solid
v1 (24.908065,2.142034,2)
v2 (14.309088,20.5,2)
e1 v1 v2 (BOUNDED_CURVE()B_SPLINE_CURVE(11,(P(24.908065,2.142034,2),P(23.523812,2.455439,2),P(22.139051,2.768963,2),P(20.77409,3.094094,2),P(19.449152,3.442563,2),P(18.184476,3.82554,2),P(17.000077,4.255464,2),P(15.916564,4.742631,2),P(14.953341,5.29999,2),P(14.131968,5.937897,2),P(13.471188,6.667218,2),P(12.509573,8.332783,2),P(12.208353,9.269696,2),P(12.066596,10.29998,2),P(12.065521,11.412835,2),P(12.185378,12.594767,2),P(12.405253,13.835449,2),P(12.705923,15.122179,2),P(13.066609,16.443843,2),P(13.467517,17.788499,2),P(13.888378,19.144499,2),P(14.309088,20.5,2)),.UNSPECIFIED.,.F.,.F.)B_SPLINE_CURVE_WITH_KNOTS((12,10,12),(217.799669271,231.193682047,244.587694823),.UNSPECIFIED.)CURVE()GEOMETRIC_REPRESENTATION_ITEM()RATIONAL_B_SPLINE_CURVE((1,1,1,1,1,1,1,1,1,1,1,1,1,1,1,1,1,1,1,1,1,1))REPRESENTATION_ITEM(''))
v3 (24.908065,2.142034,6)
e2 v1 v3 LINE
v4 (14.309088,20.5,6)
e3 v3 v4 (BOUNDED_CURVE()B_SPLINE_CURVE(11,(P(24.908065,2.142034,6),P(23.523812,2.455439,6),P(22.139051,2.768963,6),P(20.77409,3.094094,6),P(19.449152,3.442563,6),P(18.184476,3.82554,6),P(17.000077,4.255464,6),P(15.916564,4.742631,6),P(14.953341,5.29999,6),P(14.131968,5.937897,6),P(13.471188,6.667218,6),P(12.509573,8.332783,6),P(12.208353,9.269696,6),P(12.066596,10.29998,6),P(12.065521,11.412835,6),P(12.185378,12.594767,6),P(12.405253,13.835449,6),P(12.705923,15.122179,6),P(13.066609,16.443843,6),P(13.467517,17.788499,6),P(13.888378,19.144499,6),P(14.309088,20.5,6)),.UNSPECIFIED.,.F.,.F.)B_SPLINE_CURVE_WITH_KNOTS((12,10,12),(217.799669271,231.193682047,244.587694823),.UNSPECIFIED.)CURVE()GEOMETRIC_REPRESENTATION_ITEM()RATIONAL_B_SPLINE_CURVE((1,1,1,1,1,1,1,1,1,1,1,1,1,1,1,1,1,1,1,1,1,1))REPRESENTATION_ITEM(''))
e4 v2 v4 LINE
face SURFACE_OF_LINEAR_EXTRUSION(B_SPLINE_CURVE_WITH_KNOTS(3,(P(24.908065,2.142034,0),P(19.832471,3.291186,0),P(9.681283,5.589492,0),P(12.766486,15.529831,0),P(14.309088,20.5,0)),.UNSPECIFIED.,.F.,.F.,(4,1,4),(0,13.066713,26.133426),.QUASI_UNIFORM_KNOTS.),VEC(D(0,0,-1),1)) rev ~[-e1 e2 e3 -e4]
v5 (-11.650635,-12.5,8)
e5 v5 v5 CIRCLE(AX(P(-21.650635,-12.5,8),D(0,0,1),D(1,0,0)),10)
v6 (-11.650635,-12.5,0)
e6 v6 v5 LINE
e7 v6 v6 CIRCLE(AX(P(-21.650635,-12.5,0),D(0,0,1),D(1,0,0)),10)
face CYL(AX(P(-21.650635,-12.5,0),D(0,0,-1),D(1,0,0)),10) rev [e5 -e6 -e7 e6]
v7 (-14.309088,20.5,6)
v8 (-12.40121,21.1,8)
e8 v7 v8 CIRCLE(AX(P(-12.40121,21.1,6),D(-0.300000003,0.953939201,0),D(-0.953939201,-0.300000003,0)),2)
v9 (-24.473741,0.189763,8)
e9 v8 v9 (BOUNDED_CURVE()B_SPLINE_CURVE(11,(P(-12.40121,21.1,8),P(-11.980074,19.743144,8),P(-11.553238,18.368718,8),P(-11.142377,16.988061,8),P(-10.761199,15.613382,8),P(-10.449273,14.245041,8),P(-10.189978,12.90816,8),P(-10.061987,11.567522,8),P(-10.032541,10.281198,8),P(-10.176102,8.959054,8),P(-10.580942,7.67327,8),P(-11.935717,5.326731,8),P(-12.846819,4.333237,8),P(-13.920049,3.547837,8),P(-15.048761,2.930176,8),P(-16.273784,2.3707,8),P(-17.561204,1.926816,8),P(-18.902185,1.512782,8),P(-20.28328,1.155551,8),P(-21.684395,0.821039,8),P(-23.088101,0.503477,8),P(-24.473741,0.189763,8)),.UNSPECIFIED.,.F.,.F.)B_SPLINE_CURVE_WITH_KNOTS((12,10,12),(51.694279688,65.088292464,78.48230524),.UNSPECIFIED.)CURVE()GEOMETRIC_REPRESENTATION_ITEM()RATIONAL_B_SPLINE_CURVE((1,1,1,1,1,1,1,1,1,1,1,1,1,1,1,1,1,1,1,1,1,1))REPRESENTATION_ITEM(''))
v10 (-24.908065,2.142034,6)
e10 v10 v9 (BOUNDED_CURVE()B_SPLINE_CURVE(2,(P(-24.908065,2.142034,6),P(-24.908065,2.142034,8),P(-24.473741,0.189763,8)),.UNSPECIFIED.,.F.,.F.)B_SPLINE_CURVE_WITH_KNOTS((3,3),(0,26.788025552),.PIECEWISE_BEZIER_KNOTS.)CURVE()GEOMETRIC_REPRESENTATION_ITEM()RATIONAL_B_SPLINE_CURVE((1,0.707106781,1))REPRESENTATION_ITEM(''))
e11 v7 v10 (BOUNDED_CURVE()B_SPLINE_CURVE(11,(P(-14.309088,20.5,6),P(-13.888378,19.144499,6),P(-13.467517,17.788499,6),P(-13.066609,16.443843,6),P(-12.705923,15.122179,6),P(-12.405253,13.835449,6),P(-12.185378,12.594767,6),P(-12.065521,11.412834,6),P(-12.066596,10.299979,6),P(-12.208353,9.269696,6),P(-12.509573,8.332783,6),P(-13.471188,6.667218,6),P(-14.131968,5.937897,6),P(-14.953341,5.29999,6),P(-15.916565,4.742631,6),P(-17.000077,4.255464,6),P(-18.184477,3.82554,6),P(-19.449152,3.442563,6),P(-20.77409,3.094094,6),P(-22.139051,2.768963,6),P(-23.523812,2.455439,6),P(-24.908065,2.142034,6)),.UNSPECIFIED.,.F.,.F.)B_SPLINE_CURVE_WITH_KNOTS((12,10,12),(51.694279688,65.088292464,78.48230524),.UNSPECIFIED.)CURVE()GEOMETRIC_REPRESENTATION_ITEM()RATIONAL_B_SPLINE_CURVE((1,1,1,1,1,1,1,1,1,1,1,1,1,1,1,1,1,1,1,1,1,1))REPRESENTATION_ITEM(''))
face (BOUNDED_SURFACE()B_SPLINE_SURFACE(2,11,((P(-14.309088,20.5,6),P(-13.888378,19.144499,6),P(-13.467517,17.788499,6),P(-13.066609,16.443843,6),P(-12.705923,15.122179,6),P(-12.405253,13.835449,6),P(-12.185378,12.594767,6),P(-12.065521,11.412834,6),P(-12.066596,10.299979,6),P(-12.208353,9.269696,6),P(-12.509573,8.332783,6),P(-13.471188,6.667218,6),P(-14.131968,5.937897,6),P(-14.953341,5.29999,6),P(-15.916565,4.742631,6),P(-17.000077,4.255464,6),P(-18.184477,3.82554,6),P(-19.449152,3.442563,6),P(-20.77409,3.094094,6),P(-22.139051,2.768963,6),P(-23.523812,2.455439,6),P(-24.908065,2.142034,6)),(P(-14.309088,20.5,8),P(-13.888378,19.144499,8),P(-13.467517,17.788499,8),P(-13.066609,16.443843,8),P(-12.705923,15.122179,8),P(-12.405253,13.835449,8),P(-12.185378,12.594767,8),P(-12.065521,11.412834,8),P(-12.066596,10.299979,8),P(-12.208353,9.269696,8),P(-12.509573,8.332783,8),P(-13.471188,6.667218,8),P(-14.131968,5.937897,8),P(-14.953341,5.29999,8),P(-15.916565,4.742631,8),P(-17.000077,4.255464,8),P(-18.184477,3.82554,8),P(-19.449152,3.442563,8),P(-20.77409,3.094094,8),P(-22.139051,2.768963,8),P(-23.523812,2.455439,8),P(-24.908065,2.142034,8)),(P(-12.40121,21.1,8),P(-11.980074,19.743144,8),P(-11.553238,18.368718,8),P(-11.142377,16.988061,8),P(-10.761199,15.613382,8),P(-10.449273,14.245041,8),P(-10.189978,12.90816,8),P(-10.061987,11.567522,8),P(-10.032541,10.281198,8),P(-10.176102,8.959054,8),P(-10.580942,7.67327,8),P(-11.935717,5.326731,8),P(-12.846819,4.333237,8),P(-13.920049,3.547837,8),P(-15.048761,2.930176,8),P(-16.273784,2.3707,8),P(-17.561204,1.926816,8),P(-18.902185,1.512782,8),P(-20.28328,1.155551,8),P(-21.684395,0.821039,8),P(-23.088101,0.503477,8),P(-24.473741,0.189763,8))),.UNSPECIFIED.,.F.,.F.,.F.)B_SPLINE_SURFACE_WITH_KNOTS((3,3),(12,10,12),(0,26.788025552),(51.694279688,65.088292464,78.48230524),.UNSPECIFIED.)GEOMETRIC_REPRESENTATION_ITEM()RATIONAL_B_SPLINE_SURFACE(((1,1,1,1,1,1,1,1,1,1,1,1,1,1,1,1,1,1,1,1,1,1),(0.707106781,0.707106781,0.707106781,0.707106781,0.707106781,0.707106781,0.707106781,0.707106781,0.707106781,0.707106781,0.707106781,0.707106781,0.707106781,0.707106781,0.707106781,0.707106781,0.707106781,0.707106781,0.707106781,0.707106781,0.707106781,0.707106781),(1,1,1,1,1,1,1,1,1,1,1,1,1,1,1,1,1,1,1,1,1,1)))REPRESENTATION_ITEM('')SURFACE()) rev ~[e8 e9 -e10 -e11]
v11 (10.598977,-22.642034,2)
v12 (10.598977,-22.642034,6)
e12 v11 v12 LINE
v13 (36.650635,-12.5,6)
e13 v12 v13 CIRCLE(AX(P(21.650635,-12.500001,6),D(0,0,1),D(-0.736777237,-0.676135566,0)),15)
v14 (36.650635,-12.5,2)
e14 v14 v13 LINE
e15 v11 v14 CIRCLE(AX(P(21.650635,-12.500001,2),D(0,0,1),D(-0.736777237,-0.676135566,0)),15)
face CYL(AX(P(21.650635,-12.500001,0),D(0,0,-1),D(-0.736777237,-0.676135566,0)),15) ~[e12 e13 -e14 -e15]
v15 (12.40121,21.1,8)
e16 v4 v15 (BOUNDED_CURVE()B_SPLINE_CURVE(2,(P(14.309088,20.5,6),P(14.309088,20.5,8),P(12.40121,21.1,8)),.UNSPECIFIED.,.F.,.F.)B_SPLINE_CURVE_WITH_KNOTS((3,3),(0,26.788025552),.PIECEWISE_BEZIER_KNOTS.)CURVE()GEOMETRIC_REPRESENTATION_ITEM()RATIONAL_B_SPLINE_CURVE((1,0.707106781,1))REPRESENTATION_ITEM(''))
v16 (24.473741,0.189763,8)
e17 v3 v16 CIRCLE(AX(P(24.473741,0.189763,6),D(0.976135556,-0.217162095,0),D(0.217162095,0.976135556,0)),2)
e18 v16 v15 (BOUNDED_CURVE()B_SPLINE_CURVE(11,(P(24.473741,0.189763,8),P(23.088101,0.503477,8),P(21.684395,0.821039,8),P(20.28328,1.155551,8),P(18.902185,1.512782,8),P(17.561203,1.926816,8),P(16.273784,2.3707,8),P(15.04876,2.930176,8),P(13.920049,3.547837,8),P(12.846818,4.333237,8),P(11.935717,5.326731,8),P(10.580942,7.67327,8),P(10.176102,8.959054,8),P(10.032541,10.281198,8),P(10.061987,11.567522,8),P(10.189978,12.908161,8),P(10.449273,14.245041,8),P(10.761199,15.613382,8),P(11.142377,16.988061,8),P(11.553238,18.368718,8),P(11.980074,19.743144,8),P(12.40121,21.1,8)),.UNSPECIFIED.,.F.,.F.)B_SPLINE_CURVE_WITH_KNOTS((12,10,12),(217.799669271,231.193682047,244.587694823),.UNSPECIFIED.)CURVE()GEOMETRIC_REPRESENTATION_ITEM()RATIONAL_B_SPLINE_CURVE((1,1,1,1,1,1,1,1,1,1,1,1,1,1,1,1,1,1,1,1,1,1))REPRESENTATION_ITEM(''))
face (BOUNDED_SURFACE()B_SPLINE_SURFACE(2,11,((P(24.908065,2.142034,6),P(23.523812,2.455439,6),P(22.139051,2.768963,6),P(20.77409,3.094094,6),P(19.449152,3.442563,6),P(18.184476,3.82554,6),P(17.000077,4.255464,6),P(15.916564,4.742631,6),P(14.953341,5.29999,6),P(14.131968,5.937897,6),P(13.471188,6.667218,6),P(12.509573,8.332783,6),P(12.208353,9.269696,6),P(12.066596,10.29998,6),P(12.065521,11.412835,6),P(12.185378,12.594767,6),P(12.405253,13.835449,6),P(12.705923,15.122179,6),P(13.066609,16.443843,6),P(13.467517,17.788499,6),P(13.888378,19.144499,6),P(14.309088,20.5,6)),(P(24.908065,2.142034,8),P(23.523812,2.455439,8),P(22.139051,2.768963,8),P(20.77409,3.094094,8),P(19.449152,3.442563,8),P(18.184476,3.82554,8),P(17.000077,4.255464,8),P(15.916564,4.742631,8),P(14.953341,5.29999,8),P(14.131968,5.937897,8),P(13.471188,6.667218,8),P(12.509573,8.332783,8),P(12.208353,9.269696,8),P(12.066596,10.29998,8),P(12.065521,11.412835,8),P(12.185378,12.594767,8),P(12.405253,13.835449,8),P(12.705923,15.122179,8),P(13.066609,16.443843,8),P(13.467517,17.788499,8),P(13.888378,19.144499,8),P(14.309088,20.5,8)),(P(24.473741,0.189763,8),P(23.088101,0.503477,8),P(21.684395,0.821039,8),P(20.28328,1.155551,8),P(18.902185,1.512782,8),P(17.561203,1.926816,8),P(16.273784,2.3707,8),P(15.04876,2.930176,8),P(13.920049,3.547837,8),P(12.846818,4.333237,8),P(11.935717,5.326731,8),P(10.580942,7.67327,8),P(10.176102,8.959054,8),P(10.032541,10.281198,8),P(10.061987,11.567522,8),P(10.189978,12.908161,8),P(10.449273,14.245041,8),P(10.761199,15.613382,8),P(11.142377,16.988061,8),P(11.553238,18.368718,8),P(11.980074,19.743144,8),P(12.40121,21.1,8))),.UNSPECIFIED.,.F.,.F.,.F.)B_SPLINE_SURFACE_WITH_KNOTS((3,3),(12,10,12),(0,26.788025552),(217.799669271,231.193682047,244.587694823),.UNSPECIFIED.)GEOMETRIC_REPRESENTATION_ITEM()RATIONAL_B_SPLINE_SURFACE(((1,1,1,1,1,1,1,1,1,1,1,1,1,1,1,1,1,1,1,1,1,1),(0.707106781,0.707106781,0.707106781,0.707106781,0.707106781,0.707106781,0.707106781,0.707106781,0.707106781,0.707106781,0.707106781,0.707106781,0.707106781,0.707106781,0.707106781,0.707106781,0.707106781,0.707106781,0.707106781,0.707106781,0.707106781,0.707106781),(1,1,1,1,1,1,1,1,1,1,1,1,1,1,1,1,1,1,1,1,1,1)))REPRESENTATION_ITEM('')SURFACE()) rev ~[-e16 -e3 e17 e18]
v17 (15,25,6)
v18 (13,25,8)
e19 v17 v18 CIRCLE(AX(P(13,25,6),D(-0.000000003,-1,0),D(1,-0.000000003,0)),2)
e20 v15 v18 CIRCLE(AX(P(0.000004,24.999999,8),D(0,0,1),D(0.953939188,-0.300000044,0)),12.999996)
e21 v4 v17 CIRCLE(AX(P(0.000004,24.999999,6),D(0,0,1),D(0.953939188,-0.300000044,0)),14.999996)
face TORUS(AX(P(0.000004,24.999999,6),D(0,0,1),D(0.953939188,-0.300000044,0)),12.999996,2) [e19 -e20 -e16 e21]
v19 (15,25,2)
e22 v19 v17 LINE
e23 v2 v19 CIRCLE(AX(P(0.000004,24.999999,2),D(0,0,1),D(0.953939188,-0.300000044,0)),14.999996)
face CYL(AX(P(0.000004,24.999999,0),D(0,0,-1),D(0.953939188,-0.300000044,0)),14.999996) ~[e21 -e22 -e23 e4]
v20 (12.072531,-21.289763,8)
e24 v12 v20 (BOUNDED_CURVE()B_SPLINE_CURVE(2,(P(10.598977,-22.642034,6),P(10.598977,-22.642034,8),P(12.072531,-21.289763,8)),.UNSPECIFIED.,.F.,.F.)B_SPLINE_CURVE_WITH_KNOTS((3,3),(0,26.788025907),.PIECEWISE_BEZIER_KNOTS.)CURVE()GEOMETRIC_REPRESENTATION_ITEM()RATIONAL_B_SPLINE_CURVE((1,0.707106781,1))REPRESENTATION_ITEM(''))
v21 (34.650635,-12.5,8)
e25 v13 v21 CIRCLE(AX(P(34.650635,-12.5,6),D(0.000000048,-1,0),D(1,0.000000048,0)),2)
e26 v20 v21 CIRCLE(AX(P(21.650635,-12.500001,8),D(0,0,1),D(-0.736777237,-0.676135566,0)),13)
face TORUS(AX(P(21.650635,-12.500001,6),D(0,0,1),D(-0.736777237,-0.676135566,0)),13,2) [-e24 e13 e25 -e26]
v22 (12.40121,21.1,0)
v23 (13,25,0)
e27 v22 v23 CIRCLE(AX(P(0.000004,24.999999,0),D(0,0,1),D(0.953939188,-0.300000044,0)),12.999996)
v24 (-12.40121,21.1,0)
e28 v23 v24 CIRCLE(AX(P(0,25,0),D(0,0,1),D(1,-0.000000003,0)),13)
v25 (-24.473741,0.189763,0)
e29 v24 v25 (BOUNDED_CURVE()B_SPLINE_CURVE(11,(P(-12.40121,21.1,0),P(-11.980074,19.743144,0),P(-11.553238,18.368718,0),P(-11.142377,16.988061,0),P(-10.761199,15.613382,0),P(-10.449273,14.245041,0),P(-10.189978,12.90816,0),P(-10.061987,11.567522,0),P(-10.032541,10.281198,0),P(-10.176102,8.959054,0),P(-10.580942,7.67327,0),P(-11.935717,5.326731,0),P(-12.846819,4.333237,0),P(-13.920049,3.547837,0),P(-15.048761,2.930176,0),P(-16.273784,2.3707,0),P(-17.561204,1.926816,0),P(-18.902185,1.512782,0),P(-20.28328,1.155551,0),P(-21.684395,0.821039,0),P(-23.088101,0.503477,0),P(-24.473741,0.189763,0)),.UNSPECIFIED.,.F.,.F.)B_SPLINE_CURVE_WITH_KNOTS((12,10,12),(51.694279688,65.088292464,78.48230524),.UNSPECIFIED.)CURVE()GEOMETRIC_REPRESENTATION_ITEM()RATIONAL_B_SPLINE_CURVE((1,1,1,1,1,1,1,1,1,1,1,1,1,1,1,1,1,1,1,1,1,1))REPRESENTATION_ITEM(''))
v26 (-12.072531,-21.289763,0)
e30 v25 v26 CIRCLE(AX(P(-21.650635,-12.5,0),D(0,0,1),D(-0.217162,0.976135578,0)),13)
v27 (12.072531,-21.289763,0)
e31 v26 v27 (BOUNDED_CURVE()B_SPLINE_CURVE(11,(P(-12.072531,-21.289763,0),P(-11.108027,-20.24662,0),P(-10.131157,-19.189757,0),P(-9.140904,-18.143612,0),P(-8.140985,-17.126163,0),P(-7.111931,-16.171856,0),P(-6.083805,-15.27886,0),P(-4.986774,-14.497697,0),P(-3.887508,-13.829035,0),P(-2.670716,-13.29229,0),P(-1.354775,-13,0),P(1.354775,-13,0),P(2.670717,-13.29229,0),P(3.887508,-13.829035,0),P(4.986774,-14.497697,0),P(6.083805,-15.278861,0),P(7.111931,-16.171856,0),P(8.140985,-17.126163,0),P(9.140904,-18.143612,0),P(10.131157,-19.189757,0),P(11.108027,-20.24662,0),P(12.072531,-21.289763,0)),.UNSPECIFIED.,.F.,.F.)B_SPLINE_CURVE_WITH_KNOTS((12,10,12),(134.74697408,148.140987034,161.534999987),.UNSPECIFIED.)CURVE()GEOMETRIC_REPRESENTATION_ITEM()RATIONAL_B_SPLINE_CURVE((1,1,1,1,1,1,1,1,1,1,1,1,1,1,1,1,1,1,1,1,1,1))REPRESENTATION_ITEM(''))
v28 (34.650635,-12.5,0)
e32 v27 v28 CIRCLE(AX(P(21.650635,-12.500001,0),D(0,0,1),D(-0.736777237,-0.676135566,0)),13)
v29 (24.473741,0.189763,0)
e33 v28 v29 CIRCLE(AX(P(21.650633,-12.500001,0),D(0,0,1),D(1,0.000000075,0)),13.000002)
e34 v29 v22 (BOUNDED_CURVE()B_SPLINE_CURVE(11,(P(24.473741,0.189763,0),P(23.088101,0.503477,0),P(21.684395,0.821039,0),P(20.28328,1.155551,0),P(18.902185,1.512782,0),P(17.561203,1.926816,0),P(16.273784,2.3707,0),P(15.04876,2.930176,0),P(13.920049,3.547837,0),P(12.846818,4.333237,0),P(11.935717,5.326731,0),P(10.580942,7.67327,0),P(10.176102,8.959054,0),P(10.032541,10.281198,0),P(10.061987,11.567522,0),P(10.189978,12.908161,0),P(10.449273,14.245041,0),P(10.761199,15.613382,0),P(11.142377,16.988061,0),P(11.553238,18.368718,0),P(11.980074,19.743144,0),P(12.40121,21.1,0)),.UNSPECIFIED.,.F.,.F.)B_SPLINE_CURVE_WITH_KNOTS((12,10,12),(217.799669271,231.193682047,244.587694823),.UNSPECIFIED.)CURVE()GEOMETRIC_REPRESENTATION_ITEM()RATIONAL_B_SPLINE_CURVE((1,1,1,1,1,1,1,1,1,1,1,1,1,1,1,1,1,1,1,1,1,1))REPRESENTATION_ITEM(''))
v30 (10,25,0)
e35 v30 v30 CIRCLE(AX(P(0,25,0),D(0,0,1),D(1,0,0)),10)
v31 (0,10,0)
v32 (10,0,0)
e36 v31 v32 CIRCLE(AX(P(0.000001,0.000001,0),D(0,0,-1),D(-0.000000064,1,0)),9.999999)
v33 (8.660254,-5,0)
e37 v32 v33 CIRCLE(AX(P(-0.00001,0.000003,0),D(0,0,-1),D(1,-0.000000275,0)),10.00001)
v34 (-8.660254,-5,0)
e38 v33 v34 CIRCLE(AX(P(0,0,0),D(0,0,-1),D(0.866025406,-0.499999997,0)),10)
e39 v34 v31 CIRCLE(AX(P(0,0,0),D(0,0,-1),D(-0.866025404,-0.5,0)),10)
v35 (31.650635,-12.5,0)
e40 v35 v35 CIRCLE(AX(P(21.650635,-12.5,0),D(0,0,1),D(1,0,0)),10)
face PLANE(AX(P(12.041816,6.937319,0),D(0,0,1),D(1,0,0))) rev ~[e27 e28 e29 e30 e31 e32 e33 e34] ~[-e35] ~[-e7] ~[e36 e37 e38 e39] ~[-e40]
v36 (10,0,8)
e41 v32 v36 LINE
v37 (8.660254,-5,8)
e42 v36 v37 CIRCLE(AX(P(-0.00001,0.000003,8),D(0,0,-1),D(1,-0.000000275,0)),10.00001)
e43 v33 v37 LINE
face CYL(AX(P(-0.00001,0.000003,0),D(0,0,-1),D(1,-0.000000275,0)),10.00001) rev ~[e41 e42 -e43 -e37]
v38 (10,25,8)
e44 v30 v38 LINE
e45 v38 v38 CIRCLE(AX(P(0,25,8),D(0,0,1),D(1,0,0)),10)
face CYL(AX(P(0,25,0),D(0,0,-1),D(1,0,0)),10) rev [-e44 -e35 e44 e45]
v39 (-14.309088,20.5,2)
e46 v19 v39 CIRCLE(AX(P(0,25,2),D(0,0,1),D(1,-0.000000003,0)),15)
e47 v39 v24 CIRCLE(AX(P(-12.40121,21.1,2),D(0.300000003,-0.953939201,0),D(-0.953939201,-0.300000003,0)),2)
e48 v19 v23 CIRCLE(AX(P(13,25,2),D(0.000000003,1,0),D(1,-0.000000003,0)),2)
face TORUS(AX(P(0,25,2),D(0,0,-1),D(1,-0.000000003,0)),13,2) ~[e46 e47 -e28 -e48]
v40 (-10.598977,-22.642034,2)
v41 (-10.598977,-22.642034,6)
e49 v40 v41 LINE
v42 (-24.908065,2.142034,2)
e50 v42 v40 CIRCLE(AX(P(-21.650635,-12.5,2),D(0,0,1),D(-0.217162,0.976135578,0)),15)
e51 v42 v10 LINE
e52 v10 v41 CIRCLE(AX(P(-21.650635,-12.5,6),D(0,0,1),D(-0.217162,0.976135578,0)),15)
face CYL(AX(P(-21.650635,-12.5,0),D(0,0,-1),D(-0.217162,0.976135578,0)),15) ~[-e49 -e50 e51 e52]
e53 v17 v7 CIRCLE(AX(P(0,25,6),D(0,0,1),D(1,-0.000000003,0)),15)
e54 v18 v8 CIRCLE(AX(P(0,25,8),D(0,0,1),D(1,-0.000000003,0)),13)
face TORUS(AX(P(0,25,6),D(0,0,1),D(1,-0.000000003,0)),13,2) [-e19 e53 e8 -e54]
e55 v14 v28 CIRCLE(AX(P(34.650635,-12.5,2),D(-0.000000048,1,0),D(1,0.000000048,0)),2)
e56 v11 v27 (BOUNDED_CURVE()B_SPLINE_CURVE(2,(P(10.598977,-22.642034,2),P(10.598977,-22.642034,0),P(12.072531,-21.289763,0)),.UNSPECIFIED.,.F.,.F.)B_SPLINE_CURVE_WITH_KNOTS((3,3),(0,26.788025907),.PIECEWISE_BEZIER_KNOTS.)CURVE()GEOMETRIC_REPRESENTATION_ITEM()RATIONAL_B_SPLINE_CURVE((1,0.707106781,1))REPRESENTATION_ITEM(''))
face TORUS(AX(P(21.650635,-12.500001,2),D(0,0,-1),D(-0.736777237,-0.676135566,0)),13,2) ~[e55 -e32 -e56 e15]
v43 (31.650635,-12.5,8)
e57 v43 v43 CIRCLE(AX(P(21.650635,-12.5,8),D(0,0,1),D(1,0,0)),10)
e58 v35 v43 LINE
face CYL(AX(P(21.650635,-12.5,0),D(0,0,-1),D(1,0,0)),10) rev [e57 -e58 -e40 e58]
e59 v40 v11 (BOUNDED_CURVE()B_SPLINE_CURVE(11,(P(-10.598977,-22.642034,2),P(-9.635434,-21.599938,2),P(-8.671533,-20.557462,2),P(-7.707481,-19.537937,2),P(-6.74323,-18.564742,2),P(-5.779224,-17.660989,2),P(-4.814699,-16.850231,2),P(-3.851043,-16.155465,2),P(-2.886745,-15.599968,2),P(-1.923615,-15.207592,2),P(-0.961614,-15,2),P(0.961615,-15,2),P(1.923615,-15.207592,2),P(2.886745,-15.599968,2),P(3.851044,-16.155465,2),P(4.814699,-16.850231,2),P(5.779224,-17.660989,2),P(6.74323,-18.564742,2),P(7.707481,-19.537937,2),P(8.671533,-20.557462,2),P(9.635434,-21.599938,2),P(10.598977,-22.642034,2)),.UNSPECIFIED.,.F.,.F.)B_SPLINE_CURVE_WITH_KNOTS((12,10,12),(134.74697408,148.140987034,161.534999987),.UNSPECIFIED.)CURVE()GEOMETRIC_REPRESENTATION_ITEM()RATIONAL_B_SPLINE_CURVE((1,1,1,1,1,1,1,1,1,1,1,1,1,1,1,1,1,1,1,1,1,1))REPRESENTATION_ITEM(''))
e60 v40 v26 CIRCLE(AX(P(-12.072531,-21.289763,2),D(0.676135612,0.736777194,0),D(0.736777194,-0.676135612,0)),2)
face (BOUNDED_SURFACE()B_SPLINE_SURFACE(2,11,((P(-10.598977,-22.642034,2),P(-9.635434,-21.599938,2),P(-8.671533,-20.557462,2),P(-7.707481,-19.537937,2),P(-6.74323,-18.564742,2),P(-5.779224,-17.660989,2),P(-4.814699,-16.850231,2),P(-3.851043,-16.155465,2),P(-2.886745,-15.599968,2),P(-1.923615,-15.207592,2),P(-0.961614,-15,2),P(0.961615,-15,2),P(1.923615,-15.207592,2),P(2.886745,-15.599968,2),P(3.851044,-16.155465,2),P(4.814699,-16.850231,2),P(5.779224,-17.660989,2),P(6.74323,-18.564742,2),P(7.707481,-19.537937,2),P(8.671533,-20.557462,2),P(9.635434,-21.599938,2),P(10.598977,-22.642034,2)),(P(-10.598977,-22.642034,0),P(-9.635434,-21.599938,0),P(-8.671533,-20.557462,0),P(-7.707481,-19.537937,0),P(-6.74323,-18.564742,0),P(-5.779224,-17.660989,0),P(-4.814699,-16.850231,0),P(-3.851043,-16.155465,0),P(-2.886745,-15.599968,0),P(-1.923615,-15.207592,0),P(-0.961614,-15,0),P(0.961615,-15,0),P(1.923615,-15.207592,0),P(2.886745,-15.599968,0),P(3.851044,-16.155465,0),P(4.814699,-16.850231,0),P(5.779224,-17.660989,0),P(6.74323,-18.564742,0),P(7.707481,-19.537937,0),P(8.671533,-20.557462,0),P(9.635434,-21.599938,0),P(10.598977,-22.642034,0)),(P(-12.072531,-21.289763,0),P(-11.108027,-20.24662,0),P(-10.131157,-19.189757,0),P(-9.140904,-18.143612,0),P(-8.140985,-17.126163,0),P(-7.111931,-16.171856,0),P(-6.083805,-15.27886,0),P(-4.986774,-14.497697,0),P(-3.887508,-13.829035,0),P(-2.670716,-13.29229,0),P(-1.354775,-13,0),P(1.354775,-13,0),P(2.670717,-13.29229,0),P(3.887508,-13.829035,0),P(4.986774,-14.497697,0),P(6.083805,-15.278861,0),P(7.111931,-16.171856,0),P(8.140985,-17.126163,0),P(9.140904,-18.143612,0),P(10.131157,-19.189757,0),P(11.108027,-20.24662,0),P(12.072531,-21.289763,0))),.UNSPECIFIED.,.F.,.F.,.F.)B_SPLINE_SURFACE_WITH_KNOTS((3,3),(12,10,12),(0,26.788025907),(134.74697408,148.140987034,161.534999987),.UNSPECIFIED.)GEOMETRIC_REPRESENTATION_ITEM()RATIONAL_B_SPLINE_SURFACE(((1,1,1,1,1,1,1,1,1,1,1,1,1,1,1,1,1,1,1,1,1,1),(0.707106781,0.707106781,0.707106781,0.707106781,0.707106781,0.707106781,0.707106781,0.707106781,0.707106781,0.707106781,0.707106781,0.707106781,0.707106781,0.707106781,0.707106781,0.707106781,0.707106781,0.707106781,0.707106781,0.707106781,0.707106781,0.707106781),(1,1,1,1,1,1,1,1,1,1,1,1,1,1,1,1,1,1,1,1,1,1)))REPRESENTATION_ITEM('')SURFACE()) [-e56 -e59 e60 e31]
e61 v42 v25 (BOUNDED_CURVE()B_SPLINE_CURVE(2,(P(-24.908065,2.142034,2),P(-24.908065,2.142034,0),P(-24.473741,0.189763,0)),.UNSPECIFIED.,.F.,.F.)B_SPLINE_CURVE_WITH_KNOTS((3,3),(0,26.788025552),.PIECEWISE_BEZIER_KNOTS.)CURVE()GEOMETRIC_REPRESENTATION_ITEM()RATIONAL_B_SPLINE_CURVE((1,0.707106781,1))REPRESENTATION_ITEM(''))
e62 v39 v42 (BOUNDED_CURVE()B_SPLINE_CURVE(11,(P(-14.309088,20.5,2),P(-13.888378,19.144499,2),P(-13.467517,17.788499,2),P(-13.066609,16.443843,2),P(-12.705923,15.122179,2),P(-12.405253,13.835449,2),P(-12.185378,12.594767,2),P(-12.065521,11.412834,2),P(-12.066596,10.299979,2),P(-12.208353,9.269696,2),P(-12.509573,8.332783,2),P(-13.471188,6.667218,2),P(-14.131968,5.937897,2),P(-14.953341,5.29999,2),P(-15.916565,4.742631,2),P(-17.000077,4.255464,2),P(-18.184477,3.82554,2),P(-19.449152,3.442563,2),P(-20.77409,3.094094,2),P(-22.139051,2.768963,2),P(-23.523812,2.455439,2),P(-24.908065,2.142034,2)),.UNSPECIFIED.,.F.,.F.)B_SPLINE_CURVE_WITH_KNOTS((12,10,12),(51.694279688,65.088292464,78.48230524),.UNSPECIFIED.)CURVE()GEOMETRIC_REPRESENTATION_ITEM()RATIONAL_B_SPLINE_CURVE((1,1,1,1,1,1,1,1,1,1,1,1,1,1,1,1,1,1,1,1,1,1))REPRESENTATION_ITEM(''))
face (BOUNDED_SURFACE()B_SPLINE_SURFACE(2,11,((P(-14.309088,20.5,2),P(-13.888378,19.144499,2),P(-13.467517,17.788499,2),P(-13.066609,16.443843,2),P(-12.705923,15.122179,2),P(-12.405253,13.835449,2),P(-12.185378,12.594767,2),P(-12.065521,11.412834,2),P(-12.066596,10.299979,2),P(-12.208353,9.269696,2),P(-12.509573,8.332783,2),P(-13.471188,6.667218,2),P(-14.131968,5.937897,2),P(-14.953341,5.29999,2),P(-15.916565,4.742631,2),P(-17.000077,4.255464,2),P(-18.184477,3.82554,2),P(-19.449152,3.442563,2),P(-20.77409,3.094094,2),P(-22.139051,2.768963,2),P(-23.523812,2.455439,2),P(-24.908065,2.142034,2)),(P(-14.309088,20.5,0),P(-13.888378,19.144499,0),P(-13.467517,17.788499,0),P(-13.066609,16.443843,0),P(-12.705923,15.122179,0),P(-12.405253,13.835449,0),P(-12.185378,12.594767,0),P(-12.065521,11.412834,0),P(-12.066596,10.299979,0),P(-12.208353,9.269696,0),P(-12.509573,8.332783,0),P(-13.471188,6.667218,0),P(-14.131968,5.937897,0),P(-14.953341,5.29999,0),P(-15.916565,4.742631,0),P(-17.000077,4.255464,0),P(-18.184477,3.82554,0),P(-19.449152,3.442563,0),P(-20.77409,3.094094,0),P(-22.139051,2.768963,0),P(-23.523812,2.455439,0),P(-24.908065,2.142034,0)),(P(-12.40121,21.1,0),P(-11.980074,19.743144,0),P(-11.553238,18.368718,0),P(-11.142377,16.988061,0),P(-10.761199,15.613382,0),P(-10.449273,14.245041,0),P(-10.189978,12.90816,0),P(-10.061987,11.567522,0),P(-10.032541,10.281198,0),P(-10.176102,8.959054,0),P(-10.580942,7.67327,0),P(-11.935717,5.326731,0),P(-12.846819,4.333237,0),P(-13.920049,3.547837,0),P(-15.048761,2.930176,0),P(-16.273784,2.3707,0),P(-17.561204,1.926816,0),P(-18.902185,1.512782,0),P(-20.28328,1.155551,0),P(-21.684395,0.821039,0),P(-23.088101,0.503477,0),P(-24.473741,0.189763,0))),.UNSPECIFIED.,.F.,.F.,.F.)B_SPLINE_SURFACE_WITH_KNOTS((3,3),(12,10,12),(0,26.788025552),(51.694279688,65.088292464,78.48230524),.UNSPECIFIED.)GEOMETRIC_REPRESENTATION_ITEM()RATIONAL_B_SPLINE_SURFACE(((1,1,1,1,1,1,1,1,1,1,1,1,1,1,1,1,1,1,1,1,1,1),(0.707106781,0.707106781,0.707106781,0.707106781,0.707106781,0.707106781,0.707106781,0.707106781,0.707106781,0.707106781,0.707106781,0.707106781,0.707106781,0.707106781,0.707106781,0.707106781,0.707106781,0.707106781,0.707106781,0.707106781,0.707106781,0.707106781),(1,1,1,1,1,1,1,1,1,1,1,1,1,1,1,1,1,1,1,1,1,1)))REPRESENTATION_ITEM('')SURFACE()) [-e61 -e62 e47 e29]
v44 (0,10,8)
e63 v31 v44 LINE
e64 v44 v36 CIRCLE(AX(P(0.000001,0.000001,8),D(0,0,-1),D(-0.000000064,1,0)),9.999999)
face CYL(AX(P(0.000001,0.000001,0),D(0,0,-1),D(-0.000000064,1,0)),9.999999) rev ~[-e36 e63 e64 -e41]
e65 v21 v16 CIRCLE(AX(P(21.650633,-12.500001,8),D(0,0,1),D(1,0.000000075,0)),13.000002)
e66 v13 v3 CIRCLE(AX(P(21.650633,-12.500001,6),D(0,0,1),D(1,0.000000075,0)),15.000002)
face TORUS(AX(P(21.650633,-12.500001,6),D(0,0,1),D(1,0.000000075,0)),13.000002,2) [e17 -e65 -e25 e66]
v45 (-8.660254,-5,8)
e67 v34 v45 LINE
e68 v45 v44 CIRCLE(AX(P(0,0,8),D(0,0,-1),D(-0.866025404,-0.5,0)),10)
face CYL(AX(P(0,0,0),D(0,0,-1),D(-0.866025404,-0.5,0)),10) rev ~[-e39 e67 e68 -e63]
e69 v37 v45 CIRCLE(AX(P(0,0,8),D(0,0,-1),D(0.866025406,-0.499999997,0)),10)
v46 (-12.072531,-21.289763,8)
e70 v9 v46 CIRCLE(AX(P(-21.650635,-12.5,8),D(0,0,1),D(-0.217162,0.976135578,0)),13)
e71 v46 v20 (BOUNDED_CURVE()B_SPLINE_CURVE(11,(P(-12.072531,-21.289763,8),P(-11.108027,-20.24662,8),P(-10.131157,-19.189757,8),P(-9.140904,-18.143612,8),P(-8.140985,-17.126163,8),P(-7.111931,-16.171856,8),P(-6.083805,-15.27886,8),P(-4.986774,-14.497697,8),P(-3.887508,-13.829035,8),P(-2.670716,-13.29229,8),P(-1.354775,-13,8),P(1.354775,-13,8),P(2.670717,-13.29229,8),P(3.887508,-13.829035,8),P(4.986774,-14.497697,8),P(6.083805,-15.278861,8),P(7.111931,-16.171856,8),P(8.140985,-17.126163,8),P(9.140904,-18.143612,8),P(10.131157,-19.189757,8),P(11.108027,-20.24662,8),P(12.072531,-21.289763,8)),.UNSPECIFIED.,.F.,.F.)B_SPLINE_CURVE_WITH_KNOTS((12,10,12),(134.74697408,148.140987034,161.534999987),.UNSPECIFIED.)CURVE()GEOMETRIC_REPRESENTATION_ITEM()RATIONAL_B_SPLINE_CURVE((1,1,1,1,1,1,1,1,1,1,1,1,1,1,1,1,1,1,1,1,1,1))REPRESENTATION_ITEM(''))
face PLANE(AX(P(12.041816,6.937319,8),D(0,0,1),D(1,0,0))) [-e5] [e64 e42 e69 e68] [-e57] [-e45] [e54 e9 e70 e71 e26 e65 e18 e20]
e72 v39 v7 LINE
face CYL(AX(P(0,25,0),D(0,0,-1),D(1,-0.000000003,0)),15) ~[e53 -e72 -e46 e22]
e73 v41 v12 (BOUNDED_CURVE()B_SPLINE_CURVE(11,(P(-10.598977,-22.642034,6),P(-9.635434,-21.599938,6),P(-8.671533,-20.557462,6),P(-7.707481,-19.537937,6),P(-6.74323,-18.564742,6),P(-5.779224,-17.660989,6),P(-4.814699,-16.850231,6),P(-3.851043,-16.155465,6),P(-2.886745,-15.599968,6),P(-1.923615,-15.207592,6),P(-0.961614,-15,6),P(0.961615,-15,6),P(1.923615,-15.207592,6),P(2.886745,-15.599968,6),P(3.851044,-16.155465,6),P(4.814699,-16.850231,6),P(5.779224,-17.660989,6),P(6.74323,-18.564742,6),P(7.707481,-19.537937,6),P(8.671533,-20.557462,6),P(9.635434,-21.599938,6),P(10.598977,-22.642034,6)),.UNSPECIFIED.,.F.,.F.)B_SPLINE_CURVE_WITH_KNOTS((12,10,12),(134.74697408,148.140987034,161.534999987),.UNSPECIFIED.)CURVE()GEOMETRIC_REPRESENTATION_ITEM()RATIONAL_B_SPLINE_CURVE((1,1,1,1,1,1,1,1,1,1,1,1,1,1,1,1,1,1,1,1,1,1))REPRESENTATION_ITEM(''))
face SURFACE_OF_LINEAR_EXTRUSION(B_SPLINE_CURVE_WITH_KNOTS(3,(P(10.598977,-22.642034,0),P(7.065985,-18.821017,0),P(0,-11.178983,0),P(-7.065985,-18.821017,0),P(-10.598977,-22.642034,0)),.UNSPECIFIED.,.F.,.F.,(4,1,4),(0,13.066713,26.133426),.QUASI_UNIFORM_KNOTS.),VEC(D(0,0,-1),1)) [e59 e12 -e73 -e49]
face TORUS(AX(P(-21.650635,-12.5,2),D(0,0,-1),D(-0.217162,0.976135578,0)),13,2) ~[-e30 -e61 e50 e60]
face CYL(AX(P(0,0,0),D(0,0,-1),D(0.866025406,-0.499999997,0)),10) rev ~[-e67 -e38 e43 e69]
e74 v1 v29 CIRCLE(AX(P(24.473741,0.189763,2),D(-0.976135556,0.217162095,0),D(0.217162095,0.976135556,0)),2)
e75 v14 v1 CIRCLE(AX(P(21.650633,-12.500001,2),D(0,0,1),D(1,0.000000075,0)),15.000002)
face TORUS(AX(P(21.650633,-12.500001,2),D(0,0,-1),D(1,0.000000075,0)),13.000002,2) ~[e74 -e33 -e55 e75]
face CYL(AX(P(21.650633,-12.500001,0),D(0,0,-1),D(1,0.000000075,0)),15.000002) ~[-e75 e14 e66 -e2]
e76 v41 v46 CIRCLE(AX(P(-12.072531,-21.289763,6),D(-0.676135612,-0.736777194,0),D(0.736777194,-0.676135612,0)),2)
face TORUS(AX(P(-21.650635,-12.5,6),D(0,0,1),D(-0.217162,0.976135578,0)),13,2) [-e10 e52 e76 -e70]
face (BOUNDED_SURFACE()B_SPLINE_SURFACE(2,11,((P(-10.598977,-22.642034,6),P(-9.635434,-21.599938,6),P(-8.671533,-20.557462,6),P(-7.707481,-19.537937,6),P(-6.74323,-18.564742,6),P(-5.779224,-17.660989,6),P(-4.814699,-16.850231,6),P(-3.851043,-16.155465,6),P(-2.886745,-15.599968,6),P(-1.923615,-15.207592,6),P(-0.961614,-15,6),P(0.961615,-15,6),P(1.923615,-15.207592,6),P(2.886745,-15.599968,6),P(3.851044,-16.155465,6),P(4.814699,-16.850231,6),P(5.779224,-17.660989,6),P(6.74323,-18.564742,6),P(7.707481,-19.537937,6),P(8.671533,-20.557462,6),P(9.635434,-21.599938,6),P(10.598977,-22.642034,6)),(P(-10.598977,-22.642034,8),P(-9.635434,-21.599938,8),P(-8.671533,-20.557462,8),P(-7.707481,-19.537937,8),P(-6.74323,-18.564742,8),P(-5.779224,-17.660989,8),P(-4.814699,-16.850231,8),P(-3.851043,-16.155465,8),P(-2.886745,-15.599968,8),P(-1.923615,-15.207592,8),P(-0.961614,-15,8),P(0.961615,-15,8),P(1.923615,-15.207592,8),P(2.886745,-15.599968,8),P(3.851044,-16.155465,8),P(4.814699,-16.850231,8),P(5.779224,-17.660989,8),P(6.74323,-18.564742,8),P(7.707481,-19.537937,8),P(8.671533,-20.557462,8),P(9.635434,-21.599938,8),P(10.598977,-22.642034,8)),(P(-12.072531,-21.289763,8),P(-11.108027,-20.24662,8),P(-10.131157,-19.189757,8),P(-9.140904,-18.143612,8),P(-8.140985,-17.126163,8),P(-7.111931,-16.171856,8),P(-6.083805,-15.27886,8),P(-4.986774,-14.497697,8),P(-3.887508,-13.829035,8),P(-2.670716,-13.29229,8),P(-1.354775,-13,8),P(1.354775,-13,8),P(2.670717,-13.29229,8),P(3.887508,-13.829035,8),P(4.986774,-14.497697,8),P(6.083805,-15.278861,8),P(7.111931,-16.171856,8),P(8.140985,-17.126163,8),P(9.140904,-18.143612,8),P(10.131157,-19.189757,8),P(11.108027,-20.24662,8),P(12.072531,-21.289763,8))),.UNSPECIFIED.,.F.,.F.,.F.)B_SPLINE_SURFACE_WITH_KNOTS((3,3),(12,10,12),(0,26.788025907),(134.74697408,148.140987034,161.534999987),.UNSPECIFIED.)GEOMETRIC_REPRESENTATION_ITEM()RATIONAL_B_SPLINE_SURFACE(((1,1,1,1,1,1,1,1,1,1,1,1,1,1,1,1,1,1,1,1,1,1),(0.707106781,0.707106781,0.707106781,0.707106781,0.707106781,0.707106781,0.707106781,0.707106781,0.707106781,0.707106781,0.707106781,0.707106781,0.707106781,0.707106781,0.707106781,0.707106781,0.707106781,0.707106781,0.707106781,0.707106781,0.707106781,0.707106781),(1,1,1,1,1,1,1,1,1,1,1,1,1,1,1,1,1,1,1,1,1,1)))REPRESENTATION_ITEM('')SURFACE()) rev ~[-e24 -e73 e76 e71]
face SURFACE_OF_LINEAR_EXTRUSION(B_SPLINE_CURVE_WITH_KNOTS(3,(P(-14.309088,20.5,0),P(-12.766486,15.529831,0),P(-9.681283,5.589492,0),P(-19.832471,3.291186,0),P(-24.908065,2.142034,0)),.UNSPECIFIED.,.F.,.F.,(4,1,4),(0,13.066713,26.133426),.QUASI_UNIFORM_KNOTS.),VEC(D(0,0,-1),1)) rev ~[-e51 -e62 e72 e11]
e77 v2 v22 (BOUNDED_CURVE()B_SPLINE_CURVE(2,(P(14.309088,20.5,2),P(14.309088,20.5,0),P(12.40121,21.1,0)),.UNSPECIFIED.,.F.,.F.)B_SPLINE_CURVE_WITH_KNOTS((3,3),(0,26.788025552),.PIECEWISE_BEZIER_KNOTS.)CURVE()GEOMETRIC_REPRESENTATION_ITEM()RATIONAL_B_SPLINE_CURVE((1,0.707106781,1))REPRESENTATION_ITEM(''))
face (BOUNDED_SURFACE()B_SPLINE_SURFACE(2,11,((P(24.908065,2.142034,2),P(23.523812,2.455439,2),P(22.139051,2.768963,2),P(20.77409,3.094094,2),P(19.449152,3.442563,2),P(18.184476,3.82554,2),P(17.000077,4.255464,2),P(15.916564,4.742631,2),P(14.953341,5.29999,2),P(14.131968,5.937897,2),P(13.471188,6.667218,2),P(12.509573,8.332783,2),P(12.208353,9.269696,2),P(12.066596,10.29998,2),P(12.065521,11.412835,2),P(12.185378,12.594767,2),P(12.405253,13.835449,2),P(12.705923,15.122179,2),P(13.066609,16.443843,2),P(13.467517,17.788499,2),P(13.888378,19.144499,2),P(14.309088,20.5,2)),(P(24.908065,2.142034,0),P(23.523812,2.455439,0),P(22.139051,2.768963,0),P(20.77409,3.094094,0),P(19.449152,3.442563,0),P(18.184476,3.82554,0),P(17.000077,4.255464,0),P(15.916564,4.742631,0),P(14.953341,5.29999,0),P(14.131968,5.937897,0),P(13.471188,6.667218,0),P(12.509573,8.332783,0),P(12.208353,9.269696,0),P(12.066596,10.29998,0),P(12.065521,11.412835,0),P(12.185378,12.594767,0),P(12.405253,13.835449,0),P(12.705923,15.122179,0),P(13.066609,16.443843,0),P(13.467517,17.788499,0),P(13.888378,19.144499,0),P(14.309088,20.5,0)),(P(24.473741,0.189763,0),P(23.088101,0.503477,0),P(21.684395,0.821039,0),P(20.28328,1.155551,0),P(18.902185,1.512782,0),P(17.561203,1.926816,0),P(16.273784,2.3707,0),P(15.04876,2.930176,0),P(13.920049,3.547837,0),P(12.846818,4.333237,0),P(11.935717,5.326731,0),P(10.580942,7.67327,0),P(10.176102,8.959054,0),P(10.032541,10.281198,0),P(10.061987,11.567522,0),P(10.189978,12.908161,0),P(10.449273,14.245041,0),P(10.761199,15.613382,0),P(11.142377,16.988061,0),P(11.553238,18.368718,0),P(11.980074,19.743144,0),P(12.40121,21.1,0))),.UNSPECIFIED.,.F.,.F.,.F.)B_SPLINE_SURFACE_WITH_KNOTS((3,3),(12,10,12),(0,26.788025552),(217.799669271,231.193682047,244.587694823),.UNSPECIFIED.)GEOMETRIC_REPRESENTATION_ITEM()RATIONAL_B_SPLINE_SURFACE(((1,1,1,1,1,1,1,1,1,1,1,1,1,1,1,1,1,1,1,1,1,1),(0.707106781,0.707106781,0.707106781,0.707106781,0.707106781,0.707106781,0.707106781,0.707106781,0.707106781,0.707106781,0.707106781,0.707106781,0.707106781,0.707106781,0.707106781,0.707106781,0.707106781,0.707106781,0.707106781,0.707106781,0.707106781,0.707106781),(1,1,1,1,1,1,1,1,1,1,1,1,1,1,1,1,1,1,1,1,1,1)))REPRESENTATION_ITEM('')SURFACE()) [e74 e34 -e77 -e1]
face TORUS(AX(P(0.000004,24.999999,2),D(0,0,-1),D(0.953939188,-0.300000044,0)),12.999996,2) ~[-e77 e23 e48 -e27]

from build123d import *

# Parameters (mm, degrees)
F0_R     = 10
F1_DEPTH = 8
F2_R     = 2
F3_R     = 2


with BuildPart() as f1:
    # F0 (on Top) → F1 (new body)
    with BuildSketch(Plane.XY):
        with BuildLine():
            ThreePointArc((0, 10), (7.071068, 7.071068), (10, 0))
            ThreePointArc((10, 0), (9.659258, -2.58819), (8.660254, -5))
            ThreePointArc((8.660254, -5), (15.614515, 1.231906), (24.908065, 2.142034))
            add(Edge.make_bspline(
                [(24.908065, 2.142034), (19.832471, 3.291186), (9.681283, 5.589492), (12.766486, 15.529831), (14.309088, 20.5)],
                knots=[0, 0, 0, 0, 13.066713, 26.133426, 26.133426, 26.133426, 26.133426], degree=3))
            ThreePointArc((14.309088, 20.5), (8.87412, 12.906613), (0, 10))
        make_face()
        with BuildLine():
            ThreePointArc((-8.660254, -5), (-8.660254, 5), (0, 10))
            ThreePointArc((0, 10), (-8.87412, 12.906613), (-14.309088, 20.5))
            add(Edge.make_bspline(
                [(-14.309088, 20.5), (-12.766486, 15.529831), (-9.681283, 5.589492), (-19.832471, 3.291186), (-24.908065, 2.142034)],
                knots=[0, 0, 0, 0, 13.066713, 26.133426, 26.133426, 26.133426, 26.133426], degree=3))
            ThreePointArc((-24.908065, 2.142034), (-15.614515, 1.231906), (-8.660254, -5))
        make_face()
        with BuildLine():
            ThreePointArc((-14.309088, 20.5), (-8.87412, 12.906613), (0, 10))
            ThreePointArc((0, 10), (8.87412, 12.906613), (14.309088, 20.5))
            ThreePointArc((14.309088, 20.5), (14.826266, 22.723635), (15, 25))
            ThreePointArc((15, 25), (-2.276365, 39.826266), (-14.309088, 20.5))
        make_face()
        with Locations((0, 25)):
            Circle(F0_R, mode=Mode.SUBTRACT)
        with BuildLine():
            ThreePointArc((10.598977, -22.642034), (6.740395, -14.13852), (8.660254, -5))
            ThreePointArc((8.660254, -5), (0, -10), (-8.660254, -5))
            ThreePointArc((-8.660254, -5), (-7.161748, -8.617714), (-6.650635, -12.5))
            ThreePointArc((-6.650635, -12.5), (-7.672529, -17.941743), (-10.598977, -22.642034))
            add(Edge.make_bspline(
                [(10.598977, -22.642034), (7.065985, -18.821017), (0, -11.178983), (-7.065985, -18.821017), (-10.598977, -22.642034)],
                knots=[0, 0, 0, 0, 13.066713, 26.133426, 26.133426, 26.133426, 26.133426], degree=3))
        make_face()
        with BuildLine():
            ThreePointArc((24.908065, 2.142034), (15.614515, 1.231906), (8.660254, -5))
            ThreePointArc((8.660254, -5), (6.740395, -14.13852), (10.598977, -22.642034))
            ThreePointArc((10.598977, -22.642034), (27.092378, -26.478106), (36.650635, -12.5))
            ThreePointArc((36.650635, -12.5), (33.352375, -3.115477), (24.908065, 2.142034))
        make_face()
        with Locations((21.650635, -12.5)):
            Circle(F0_R, mode=Mode.SUBTRACT)
        with BuildLine():
            ThreePointArc((-6.650635, -12.5), (-7.161748, -8.617714), (-8.660254, -5))
            ThreePointArc((-8.660254, -5), (-15.614515, 1.231906), (-24.908065, 2.142034))
            ThreePointArc((-24.908065, 2.142034), (-34.641016, -20), (-10.598977, -22.642034))
            ThreePointArc((-10.598977, -22.642034), (-7.672529, -17.941743), (-6.650635, -12.5))
        make_face()
        with Locations((-21.650635, -12.5)):
            Circle(F0_R, mode=Mode.SUBTRACT)
    extrude(amount=F1_DEPTH)

    # F2
    f2_edges = [f1.edges().sort_by_distance(p)[0] for p in [
        (0, 40, 8),
        (-34.641016, -20, 8),
        (34.641016, -20, 8),
    ]]
    fillet(f2_edges, radius=F2_R)

    # F3
    f3_edges = [f1.edges().sort_by_distance(p)[0] for p in [
        (0, 40, 0),
        (-34.641016, -20, 0),
        (34.641016, -20, 0),
    ]]
    fillet(f3_edges, radius=F3_R)


solid = f1.part
